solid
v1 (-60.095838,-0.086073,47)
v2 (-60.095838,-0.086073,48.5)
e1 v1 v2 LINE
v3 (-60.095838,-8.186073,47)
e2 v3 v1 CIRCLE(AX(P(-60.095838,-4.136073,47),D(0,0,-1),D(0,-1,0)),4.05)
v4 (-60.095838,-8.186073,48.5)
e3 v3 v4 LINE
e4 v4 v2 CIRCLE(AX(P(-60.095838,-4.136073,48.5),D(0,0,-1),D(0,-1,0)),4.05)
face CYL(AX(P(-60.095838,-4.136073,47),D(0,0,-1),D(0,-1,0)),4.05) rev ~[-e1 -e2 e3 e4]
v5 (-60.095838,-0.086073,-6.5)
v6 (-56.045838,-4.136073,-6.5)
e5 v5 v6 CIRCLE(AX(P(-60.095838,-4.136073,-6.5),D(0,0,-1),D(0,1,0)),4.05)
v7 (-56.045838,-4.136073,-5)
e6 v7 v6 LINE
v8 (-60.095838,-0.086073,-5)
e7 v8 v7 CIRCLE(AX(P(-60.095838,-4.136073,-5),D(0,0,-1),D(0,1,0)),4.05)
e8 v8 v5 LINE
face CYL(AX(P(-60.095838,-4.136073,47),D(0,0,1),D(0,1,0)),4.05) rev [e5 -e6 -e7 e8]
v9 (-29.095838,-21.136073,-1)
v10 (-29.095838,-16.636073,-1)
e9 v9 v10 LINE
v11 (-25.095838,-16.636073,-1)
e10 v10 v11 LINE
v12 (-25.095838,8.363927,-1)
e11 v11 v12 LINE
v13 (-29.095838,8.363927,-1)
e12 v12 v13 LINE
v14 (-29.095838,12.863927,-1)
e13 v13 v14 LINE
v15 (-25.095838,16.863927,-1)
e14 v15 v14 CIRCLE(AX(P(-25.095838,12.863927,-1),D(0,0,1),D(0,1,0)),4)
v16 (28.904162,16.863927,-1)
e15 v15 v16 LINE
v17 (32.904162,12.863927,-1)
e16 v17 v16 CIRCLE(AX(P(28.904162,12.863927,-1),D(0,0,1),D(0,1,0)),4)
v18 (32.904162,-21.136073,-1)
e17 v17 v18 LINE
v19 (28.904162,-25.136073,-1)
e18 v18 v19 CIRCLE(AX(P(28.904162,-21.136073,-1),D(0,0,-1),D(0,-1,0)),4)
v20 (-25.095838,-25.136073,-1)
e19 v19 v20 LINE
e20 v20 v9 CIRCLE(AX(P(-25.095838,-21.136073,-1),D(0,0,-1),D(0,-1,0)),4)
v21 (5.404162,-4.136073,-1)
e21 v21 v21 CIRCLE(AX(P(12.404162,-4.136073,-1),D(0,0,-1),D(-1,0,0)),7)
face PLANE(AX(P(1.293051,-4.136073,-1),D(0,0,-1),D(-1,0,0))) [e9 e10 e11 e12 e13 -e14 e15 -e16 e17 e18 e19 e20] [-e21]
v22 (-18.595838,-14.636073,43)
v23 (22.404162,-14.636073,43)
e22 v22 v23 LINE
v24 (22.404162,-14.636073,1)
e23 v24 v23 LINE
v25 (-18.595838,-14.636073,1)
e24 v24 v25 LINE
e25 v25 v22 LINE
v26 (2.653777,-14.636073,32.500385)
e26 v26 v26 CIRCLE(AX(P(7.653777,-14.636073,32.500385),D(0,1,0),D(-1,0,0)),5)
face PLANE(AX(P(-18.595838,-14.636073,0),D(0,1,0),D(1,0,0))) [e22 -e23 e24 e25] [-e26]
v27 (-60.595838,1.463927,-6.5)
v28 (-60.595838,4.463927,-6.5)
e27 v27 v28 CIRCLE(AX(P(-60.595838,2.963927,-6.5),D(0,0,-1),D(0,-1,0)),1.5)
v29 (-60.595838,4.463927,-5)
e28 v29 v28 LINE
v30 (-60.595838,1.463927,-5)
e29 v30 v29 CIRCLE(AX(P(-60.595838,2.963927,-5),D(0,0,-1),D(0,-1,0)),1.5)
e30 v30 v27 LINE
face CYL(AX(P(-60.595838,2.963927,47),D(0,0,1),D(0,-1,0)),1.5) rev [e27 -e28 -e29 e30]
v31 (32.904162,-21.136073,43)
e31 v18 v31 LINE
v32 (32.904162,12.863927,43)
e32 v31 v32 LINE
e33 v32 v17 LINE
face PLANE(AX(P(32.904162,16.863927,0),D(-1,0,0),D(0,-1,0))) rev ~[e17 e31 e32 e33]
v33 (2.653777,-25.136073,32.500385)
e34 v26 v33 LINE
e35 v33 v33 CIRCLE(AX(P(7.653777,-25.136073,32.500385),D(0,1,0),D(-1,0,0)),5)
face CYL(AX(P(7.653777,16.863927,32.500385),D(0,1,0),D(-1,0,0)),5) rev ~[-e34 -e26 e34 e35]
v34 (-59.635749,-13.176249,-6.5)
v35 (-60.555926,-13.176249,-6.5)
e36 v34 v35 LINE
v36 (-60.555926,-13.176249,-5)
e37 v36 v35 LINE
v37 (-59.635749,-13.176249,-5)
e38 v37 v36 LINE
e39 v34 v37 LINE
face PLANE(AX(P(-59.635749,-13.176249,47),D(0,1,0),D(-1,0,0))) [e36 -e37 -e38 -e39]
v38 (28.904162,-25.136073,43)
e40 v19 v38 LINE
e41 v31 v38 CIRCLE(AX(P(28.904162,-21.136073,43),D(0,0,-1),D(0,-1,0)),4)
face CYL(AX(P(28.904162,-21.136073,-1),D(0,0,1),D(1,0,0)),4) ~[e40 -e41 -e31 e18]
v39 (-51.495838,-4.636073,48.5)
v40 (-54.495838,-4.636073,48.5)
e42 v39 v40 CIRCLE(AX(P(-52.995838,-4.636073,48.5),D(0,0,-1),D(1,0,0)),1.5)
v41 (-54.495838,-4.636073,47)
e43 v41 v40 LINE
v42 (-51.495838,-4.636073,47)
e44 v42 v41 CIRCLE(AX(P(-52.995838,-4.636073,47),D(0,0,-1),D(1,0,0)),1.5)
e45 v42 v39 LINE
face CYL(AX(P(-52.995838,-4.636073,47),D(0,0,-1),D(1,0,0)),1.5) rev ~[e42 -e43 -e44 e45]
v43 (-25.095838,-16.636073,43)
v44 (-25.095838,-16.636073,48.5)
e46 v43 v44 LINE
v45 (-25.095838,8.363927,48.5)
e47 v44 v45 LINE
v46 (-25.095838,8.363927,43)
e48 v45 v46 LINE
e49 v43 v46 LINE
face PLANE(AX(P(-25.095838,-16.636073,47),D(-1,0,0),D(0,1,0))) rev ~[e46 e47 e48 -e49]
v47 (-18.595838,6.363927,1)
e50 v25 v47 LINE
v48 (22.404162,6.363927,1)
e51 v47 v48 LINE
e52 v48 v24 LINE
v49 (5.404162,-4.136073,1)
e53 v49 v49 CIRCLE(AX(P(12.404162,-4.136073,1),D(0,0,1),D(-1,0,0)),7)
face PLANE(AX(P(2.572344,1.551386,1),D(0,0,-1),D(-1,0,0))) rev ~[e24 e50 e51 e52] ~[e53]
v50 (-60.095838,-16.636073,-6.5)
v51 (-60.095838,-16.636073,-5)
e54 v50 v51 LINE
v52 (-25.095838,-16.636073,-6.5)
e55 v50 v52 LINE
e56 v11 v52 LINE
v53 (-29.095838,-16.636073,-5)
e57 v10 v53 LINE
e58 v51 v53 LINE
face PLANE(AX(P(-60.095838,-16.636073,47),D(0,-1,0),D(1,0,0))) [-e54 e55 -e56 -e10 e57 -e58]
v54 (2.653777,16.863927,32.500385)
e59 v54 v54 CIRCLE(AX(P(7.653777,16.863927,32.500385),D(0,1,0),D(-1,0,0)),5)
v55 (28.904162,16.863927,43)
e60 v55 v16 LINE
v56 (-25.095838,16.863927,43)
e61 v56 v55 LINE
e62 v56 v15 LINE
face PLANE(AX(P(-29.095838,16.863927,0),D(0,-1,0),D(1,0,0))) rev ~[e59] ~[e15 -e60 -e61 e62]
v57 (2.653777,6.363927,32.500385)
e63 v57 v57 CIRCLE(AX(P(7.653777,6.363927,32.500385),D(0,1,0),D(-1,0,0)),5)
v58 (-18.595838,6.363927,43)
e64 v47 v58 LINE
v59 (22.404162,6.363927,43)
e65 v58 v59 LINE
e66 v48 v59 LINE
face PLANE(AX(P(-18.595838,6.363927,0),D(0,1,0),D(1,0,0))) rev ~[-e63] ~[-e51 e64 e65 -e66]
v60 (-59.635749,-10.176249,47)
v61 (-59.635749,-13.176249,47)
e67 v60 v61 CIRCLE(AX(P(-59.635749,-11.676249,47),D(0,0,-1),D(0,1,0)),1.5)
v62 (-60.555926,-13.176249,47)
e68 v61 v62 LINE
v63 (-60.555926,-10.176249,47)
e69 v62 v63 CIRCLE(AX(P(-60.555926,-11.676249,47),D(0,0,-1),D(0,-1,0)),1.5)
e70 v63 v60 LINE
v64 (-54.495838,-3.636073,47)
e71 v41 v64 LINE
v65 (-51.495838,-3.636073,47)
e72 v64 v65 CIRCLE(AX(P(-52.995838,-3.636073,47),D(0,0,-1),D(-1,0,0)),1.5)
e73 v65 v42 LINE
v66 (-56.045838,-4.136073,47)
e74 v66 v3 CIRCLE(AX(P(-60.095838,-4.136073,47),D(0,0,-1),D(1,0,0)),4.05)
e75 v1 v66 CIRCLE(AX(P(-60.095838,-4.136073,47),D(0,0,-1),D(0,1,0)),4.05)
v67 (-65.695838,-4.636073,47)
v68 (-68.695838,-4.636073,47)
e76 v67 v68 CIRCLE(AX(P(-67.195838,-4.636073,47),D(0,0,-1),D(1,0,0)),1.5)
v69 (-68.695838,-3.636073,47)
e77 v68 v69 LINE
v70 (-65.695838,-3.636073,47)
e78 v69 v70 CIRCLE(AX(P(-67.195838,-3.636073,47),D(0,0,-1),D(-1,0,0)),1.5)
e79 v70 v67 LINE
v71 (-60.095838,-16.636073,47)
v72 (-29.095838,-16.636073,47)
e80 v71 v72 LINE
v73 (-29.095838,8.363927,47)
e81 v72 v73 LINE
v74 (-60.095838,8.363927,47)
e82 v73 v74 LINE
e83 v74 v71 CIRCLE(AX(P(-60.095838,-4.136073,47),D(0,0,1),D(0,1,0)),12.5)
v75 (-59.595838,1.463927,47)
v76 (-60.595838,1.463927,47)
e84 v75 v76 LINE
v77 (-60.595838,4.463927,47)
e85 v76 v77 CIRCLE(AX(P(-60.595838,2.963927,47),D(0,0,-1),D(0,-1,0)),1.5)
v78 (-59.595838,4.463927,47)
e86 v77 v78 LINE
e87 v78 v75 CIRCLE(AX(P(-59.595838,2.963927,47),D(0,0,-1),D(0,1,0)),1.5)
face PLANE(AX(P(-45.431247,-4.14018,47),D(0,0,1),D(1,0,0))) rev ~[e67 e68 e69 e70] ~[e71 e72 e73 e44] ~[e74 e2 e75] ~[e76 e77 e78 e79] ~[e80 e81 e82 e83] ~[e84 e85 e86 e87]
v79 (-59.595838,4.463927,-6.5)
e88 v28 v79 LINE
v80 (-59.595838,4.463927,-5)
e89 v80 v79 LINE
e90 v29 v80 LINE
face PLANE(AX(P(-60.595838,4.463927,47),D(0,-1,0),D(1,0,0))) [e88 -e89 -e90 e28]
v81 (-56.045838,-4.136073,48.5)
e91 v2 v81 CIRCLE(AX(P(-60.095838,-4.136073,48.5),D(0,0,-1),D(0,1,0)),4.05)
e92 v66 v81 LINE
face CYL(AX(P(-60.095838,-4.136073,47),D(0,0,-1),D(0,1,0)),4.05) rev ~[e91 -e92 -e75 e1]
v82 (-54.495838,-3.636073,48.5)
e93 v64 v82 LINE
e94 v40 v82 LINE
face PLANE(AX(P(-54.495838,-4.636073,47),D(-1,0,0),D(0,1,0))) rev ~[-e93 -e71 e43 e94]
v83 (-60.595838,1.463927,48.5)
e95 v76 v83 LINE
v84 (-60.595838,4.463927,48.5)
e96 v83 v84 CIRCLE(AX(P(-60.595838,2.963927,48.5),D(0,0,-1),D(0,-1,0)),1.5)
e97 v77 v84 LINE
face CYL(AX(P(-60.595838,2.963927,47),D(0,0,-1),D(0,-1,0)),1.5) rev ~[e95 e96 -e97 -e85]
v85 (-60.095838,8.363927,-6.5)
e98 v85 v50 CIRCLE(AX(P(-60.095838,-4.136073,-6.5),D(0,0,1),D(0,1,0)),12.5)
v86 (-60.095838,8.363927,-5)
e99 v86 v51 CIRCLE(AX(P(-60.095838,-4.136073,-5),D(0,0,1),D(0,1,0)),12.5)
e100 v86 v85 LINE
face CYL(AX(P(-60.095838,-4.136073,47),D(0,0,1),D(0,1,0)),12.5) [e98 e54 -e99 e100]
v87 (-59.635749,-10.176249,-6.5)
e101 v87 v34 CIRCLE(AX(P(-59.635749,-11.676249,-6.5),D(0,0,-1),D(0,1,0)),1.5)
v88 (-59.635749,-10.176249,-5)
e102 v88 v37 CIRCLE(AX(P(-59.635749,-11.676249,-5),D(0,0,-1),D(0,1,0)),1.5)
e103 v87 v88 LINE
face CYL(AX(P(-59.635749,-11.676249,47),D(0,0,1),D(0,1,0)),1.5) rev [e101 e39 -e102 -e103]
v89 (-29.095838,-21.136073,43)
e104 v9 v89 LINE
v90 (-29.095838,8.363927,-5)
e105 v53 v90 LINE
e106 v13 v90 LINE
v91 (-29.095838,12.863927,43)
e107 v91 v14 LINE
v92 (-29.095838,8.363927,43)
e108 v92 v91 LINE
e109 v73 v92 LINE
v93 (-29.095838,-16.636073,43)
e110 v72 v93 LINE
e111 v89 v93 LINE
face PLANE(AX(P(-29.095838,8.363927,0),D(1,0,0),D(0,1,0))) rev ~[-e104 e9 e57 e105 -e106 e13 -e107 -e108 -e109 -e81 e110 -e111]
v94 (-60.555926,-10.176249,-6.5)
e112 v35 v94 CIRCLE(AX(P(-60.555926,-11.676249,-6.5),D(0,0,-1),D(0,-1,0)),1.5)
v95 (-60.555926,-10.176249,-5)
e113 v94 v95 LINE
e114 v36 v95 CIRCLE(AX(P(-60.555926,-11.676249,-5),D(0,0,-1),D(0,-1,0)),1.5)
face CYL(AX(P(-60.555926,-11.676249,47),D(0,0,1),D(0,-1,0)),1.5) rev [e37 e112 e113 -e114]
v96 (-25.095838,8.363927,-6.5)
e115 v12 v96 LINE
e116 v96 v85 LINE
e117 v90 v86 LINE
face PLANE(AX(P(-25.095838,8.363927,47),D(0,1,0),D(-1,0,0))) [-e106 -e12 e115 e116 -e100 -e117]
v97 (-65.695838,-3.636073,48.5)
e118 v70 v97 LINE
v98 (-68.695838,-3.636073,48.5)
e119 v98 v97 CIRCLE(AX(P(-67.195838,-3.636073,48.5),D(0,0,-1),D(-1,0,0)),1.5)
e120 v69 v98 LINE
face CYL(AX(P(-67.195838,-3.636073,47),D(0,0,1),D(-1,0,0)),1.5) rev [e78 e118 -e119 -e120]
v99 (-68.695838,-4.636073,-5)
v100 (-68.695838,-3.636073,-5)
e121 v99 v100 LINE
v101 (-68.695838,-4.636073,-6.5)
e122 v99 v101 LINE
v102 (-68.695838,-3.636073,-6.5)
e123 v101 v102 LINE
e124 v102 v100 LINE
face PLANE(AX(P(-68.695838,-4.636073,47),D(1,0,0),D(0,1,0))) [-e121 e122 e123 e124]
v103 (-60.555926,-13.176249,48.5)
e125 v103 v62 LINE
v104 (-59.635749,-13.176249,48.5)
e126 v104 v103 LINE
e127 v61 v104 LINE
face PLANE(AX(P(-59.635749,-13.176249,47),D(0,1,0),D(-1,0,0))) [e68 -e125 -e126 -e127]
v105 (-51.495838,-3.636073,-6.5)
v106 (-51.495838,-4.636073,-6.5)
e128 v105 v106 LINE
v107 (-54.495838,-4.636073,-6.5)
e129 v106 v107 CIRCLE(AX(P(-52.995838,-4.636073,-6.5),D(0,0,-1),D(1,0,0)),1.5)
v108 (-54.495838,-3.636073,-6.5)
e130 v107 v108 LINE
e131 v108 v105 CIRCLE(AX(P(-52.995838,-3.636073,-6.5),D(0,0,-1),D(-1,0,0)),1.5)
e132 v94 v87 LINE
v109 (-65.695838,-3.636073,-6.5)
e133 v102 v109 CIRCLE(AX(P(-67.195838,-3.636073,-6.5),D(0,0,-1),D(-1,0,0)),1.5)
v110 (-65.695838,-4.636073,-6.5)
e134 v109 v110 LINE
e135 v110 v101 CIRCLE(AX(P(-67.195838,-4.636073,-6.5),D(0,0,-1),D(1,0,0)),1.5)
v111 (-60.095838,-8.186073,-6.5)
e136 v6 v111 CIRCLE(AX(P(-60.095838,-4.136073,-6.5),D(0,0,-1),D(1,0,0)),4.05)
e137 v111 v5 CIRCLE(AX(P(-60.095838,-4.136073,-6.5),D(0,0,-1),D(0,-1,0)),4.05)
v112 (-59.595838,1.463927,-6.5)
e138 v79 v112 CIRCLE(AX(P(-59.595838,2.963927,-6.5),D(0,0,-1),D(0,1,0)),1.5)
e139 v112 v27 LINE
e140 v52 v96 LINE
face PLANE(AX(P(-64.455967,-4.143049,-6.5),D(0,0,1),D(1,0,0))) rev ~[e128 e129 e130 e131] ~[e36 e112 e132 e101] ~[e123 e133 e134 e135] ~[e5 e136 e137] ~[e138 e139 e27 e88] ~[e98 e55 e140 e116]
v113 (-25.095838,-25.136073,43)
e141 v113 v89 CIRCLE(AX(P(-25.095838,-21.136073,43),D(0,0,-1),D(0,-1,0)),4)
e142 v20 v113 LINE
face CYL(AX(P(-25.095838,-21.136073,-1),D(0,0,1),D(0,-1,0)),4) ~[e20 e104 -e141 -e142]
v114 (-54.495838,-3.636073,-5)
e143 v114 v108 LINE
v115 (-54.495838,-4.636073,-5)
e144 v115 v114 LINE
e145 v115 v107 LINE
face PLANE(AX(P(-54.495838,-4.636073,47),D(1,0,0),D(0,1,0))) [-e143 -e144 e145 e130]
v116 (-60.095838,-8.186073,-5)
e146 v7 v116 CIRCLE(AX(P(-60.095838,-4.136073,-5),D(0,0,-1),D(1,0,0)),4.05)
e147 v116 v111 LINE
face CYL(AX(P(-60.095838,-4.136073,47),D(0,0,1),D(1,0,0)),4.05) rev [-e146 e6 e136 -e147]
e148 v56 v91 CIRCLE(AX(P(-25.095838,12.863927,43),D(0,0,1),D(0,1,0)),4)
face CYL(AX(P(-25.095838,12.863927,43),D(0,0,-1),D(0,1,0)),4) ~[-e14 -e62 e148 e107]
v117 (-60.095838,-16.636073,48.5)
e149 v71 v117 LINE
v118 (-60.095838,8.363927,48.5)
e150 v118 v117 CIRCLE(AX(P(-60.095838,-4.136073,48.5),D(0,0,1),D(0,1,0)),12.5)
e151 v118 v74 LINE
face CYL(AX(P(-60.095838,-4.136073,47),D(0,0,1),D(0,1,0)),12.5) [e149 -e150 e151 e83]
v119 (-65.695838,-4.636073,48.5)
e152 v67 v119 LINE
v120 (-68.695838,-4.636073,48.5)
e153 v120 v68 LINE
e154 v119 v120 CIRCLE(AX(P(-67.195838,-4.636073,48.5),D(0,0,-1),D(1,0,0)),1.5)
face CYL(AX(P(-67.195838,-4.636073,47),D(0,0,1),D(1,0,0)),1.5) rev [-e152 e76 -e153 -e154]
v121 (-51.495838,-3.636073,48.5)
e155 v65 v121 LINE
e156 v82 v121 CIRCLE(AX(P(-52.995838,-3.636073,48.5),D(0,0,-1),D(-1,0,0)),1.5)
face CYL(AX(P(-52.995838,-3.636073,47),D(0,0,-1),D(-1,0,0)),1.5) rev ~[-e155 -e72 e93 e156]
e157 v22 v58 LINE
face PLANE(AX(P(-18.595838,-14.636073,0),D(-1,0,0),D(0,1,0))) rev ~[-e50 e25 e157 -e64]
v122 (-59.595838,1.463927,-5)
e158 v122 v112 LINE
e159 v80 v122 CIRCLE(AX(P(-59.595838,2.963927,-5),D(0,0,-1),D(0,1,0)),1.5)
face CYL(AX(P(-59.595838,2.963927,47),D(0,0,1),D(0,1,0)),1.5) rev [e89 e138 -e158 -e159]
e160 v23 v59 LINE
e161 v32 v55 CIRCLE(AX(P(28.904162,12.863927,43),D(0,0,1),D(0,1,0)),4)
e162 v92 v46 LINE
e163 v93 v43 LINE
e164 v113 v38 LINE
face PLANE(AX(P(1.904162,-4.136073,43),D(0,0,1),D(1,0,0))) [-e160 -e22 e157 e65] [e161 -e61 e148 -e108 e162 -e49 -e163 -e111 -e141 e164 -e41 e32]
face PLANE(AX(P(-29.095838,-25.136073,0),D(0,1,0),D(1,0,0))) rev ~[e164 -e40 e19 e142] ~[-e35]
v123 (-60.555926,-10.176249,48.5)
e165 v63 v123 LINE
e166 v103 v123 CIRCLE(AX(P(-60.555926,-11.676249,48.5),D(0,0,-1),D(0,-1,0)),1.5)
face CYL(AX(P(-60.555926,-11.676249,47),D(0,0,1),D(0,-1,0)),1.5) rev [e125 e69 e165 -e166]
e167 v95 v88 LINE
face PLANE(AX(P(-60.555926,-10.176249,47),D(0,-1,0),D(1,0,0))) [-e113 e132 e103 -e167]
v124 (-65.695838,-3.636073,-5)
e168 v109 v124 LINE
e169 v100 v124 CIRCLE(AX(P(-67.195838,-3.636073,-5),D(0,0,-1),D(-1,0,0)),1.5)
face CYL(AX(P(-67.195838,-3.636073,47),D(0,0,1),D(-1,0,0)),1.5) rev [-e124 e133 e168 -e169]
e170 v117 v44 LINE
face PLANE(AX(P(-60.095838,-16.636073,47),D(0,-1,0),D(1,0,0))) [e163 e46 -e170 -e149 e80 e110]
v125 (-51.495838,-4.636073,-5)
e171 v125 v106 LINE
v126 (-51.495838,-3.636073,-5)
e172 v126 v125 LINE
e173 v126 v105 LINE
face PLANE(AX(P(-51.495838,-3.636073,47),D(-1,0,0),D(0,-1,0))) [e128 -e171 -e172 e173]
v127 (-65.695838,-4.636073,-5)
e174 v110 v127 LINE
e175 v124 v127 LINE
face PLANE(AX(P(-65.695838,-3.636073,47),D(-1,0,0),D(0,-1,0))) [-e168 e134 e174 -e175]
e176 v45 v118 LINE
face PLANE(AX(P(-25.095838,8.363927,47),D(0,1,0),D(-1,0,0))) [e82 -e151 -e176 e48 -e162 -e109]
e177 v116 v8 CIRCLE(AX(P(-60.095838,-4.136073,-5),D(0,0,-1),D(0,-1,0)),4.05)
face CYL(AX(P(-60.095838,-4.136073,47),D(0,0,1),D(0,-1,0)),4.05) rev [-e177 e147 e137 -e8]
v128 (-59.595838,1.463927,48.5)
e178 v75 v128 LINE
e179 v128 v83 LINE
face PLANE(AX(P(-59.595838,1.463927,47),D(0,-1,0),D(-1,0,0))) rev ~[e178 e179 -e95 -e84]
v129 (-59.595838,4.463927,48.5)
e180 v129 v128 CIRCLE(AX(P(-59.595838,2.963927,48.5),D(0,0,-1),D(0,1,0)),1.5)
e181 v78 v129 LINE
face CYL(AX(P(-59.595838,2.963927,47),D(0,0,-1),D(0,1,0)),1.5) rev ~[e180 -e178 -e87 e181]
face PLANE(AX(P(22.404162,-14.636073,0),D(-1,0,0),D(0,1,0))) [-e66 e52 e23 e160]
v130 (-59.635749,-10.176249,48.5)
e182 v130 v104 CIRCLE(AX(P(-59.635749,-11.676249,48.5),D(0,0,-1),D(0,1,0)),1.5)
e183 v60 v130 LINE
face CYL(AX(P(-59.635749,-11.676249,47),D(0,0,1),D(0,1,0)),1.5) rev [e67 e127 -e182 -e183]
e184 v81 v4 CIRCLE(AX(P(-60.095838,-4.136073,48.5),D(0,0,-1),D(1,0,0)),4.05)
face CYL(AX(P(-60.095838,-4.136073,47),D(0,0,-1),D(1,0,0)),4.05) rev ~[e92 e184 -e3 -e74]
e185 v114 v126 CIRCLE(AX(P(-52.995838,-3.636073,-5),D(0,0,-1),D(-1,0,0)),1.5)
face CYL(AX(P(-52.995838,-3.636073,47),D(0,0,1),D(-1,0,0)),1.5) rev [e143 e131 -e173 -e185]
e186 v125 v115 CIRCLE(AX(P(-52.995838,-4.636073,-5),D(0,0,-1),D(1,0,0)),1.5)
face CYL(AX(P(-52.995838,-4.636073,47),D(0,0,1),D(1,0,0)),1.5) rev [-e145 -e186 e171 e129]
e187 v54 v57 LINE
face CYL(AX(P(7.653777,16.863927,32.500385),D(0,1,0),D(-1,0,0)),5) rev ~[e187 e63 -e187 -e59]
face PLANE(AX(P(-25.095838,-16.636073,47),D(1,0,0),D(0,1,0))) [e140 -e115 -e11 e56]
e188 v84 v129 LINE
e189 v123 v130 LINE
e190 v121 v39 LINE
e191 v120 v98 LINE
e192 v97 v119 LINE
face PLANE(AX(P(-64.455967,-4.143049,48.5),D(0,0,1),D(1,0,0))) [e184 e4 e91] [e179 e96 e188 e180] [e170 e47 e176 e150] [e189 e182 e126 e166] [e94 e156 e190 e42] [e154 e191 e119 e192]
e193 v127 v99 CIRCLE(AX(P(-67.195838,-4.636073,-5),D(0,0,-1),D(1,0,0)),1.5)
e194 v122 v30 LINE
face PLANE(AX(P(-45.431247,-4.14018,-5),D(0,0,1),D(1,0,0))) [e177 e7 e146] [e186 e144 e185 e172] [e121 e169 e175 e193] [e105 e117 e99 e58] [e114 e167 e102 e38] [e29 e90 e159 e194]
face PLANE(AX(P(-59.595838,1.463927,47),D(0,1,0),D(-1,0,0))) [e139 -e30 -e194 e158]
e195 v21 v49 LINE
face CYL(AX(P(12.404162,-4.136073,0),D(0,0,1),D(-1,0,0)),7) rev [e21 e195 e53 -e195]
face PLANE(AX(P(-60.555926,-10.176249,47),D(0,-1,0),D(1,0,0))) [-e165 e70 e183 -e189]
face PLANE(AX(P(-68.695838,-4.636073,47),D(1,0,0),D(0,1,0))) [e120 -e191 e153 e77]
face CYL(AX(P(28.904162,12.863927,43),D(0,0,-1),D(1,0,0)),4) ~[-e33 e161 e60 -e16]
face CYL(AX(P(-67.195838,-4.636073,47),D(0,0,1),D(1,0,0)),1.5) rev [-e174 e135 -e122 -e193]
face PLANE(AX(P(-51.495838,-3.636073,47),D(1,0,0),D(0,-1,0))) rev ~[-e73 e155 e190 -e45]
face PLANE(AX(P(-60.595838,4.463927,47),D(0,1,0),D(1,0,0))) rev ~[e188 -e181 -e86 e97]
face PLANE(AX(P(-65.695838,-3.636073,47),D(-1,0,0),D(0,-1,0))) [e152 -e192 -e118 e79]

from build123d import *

# Parameters (mm, degrees)
SKETCH1_W           = 62
SKETCH1_H           = 42
SKETCH1_W_2         = 41
SKETCH1_H_2         = 21
BOSS_EXTRUDE1_DEPTH = 43
SKETCH2_W           = 4
SKETCH2_H           = 25
BOSS_EXTRUDE2_DEPTH = 4
SKETCH3_W           = 4
SKETCH3_H           = 25
BOSS_EXTRUDE6_DEPTH = 1.5
SKETCH3_8_W         = 4
SKETCH3_8_H         = 25
BOSS_EXTRUDE7_DEPTH = 53.5
CUT_EXTRUDE1_DEPTH  = 52
SKETCH_1_R          = 5
CUT_EXTRUDE_1_DEPTH = 42
EXTRUDE_1_DEPTH     = 1
SKETCH_2_3_R        = 7
EXTRUDE_2_DEPTH     = 1
FILLET_1_R          = 4
FILLET_2_R          = 4
FILLET_3_R          = 4
FILLET_4_R          = 4


with BuildPart() as part:
    # Sketch1 → Boss-Extrude1 (new body)
    with BuildSketch(Plane.XY):
        with Locations((1.904162196, -4.136072895)):
            Rectangle(SKETCH1_W, SKETCH1_H)
        with Locations((1.904162196, -4.136072895)):
            Rectangle(SKETCH1_W_2, SKETCH1_H_2, mode=Mode.SUBTRACT)
    extrude(amount=BOSS_EXTRUDE1_DEPTH)

    # Sketch2 → Boss-Extrude2 (add)
    with BuildSketch(Plane.XY.offset(43)):
        with Locations((-27.095837804, -4.136072895)):
            Rectangle(SKETCH2_W, SKETCH2_H)
    extrude(amount=BOSS_EXTRUDE2_DEPTH)

    # Sketch3 → Boss-Extrude6 (add)
    with BuildSketch(Plane.XY.offset(47)):
        with BuildLine():
            Line((-60.095837804, 4.463927105), (-60.095837804, 8.363927105))
            ThreePointArc((-60.095837804, 8.363927105), (-72.595837804, -4.136072895), (-60.095837804, -16.636072895))
            Line((-60.095837804, -16.636072895), (-60.095837804, -13.176248856))
            Line((-60.095837804, -13.176248856), (-60.555926168, -13.176248856))
            ThreePointArc((-60.555926168, -13.176248856), (-62.055926168, -11.676248856), (-60.555926168, -10.176248856))
            Line((-60.555926168, -10.176248856), (-60.095837804, -10.176248856))
            Line((-60.095837804, -10.176248856), (-60.095837804, -8.186072895))
            ThreePointArc((-60.095837804, -8.186072895), (-64.145837804, -4.136072895), (-60.095837804, -0.086072895))
            Line((-60.095837804, -0.086072895), (-60.095837804, 1.463927105))
            Line((-60.095837804, 1.463927105), (-60.595837804, 1.463927105))
            ThreePointArc((-60.595837804, 1.463927105), (-62.095837804, 2.963927105), (-60.595837804, 4.463927105))
            Line((-60.595837804, 4.463927105), (-60.095837804, 4.463927105))
        make_face()
        with BuildLine():
            ThreePointArc((-68.695837804, -3.636072895), (-67.195837804, -2.136072895), (-65.695837804, -3.636072895))
            Line((-65.695837804, -3.636072895), (-65.695837804, -4.636072895))
            ThreePointArc((-65.695837804, -4.636072895), (-67.195837804, -6.136072895), (-68.695837804, -4.636072895))
            Line((-68.695837804, -4.636072895), (-68.695837804, -3.636072895))
        make_face(mode=Mode.SUBTRACT)
        with BuildLine():
            Line((-29.095837804, -16.636072895), (-29.095837804, 8.363927105))
            Line((-29.095837804, 8.363927105), (-60.095837804, 8.363927105))
            Line((-60.095837804, 8.363927105), (-60.095837804, 4.463927105))
            Line((-60.095837804, 4.463927105), (-59.595837804, 4.463927105))
            ThreePointArc((-59.595837804, 4.463927105), (-58.095837804, 2.963927105), (-59.595837804, 1.463927105))
            Line((-59.595837804, 1.463927105), (-60.095837804, 1.463927105))
            Line((-60.095837804, 1.463927105), (-60.095837804, -0.086072895))
            ThreePointArc((-60.095837804, -0.086072895), (-57.23205534, -1.272290432), (-56.045837804, -4.136072895))
            ThreePointArc((-56.045837804, -4.136072895), (-57.23205534, -6.999855359), (-60.095837804, -8.186072895))
            Line((-60.095837804, -8.186072895), (-60.095837804, -10.176248856))
            Line((-60.095837804, -10.176248856), (-59.635749439, -10.176248856))
            ThreePointArc((-59.635749439, -10.176248856), (-58.135749439, -11.676248856), (-59.635749439, -13.176248856))
            Line((-59.635749439, -13.176248856), (-60.095837804, -13.176248856))
            Line((-60.095837804, -13.176248856), (-60.095837804, -16.636072895))
            Line((-60.095837804, -16.636072895), (-29.095837804, -16.636072895))
        make_face()
        with BuildLine():
            ThreePointArc((-54.495837804, -3.636072895), (-52.995837804, -2.136072895), (-51.495837804, -3.636072895))
            Line((-51.495837804, -3.636072895), (-51.495837804, -4.636072895))
            ThreePointArc((-51.495837804, -4.636072895), (-52.995837804, -6.136072895), (-54.495837804, -4.636072895))
            Line((-54.495837804, -4.636072895), (-54.495837804, -3.636072895))
        make_face(mode=Mode.SUBTRACT)
        with Locations((-27.095837804, -4.136072895)):
            Rectangle(SKETCH3_W, SKETCH3_H)
    extrude(amount=BOSS_EXTRUDE6_DEPTH)

    # Sketch3<8> → Boss-Extrude7 (add)
    with BuildSketch(Plane.XY.offset(47)):
        with BuildLine():
            Line((-60.095837804, 4.463927105), (-60.095837804, 8.363927105))
            ThreePointArc((-60.095837804, 8.363927105), (-72.595837804, -4.136072895), (-60.095837804, -16.636072895))
            Line((-60.095837804, -16.636072895), (-60.095837804, -13.176248856))
            Line((-60.095837804, -13.176248856), (-60.555926168, -13.176248856))
            ThreePointArc((-60.555926168, -13.176248856), (-62.055926168, -11.676248856), (-60.555926168, -10.176248856))
            Line((-60.555926168, -10.176248856), (-60.095837804, -10.176248856))
            Line((-60.095837804, -10.176248856), (-60.095837804, -8.186072895))
            ThreePointArc((-60.095837804, -8.186072895), (-64.145837804, -4.136072895), (-60.095837804, -0.086072895))
            Line((-60.095837804, -0.086072895), (-60.095837804, 1.463927105))
            Line((-60.095837804, 1.463927105), (-60.595837804, 1.463927105))
            ThreePointArc((-60.595837804, 1.463927105), (-62.095837804, 2.963927105), (-60.595837804, 4.463927105))
            Line((-60.595837804, 4.463927105), (-60.095837804, 4.463927105))
        make_face()
        with BuildLine():
            ThreePointArc((-68.695837804, -3.636072895), (-67.195837804, -2.136072895), (-65.695837804, -3.636072895))
            Line((-65.695837804, -3.636072895), (-65.695837804, -4.636072895))
            ThreePointArc((-65.695837804, -4.636072895), (-67.195837804, -6.136072895), (-68.695837804, -4.636072895))
            Line((-68.695837804, -4.636072895), (-68.695837804, -3.636072895))
        make_face(mode=Mode.SUBTRACT)
        with BuildLine():
            Line((-29.095837804, -16.636072895), (-29.095837804, 8.363927105))
            Line((-29.095837804, 8.363927105), (-60.095837804, 8.363927105))
            Line((-60.095837804, 8.363927105), (-60.095837804, 4.463927105))
            Line((-60.095837804, 4.463927105), (-59.595837804, 4.463927105))
            ThreePointArc((-59.595837804, 4.463927105), (-58.095837804, 2.963927105), (-59.595837804, 1.463927105))
            Line((-59.595837804, 1.463927105), (-60.095837804, 1.463927105))
            Line((-60.095837804, 1.463927105), (-60.095837804, -0.086072895))
            ThreePointArc((-60.095837804, -0.086072895), (-57.23205534, -1.272290432), (-56.045837804, -4.136072895))
            ThreePointArc((-56.045837804, -4.136072895), (-57.23205534, -6.999855359), (-60.095837804, -8.186072895))
            Line((-60.095837804, -8.186072895), (-60.095837804, -10.176248856))
            Line((-60.095837804, -10.176248856), (-59.635749439, -10.176248856))
            ThreePointArc((-59.635749439, -10.176248856), (-58.135749439, -11.676248856), (-59.635749439, -13.176248856))
            Line((-59.635749439, -13.176248856), (-60.095837804, -13.176248856))
            Line((-60.095837804, -13.176248856), (-60.095837804, -16.636072895))
            Line((-60.095837804, -16.636072895), (-29.095837804, -16.636072895))
        make_face()
        with BuildLine():
            ThreePointArc((-54.495837804, -3.636072895), (-52.995837804, -2.136072895), (-51.495837804, -3.636072895))
            Line((-51.495837804, -3.636072895), (-51.495837804, -4.636072895))
            ThreePointArc((-51.495837804, -4.636072895), (-52.995837804, -6.136072895), (-54.495837804, -4.636072895))
            Line((-54.495837804, -4.636072895), (-54.495837804, -3.636072895))
        make_face(mode=Mode.SUBTRACT)
        with Locations((-27.095837804, -4.136072895)):
            Rectangle(SKETCH3_8_W, SKETCH3_8_H)
    extrude(amount=-BOSS_EXTRUDE7_DEPTH)

    # Sketch3<11> → Cut-Extrude1 (cut)
    with BuildSketch(Plane.XY.offset(47)):
        with BuildLine():
            Line((-29.095837804, -16.636072895), (-29.095837804, 8.363927105))
            Line((-29.095837804, 8.363927105), (-60.095837804, 8.363927105))
            Line((-60.095837804, 8.363927105), (-60.095837804, 4.463927105))
            Line((-60.095837804, 4.463927105), (-59.595837804, 4.463927105))
            ThreePointArc((-59.595837804, 4.463927105), (-58.095837804, 2.963927105), (-59.595837804, 1.463927105))
            Line((-59.595837804, 1.463927105), (-60.095837804, 1.463927105))
            Line((-60.095837804, 1.463927105), (-60.095837804, -0.086072895))
            ThreePointArc((-60.095837804, -0.086072895), (-57.23205534, -1.272290432), (-56.045837804, -4.136072895))
            ThreePointArc((-56.045837804, -4.136072895), (-57.23205534, -6.999855359), (-60.095837804, -8.186072895))
            Line((-60.095837804, -8.186072895), (-60.095837804, -10.176248856))
            Line((-60.095837804, -10.176248856), (-59.635749439, -10.176248856))
            ThreePointArc((-59.635749439, -10.176248856), (-58.135749439, -11.676248856), (-59.635749439, -13.176248856))
            Line((-59.635749439, -13.176248856), (-60.095837804, -13.176248856))
            Line((-60.095837804, -13.176248856), (-60.095837804, -16.636072895))
            Line((-60.095837804, -16.636072895), (-29.095837804, -16.636072895))
        make_face()
        with BuildLine():
            ThreePointArc((-54.495837804, -3.636072895), (-52.995837804, -2.136072895), (-51.495837804, -3.636072895))
            Line((-51.495837804, -3.636072895), (-51.495837804, -4.636072895))
            ThreePointArc((-51.495837804, -4.636072895), (-52.995837804, -6.136072895), (-54.495837804, -4.636072895))
            Line((-54.495837804, -4.636072895), (-54.495837804, -3.636072895))
        make_face(mode=Mode.SUBTRACT)
        with BuildLine():
            Line((-60.095837804, 4.463927105), (-60.095837804, 8.363927105))
            ThreePointArc((-60.095837804, 8.363927105), (-72.595837804, -4.136072895), (-60.095837804, -16.636072895))
            Line((-60.095837804, -16.636072895), (-60.095837804, -13.176248856))
            Line((-60.095837804, -13.176248856), (-60.555926168, -13.176248856))
            ThreePointArc((-60.555926168, -13.176248856), (-62.055926168, -11.676248856), (-60.555926168, -10.176248856))
            Line((-60.555926168, -10.176248856), (-60.095837804, -10.176248856))
            Line((-60.095837804, -10.176248856), (-60.095837804, -8.186072895))
            ThreePointArc((-60.095837804, -8.186072895), (-64.145837804, -4.136072895), (-60.095837804, -0.086072895))
            Line((-60.095837804, -0.086072895), (-60.095837804, 1.463927105))
            Line((-60.095837804, 1.463927105), (-60.595837804, 1.463927105))
            ThreePointArc((-60.595837804, 1.463927105), (-62.095837804, 2.963927105), (-60.595837804, 4.463927105))
            Line((-60.595837804, 4.463927105), (-60.095837804, 4.463927105))
        make_face()
        with BuildLine():
            ThreePointArc((-68.695837804, -3.636072895), (-67.195837804, -2.136072895), (-65.695837804, -3.636072895))
            Line((-65.695837804, -3.636072895), (-65.695837804, -4.636072895))
            ThreePointArc((-65.695837804, -4.636072895), (-67.195837804, -6.136072895), (-68.695837804, -4.636072895))
            Line((-68.695837804, -4.636072895), (-68.695837804, -3.636072895))
        make_face(mode=Mode.SUBTRACT)
    extrude(amount=-CUT_EXTRUDE1_DEPTH, mode=Mode.SUBTRACT)

    # 草圖1 → 除料-伸長1 (cut)
    with BuildSketch(Plane(origin=(0, 16.863927105, 0), x_dir=(1, 0, 0), z_dir=(0, 1, 0))):
        with Locations(Location((7.653776732, -32.500385465, 0), (0, 0, 180))):
            Circle(SKETCH_1_R)
    extrude(amount=-CUT_EXTRUDE_1_DEPTH, mode=Mode.SUBTRACT)

    # 草圖2 → 填料-伸長1 (add)
    with BuildSketch(Plane(origin=(0, 0, 0), x_dir=(-1, 0, 0), z_dir=(0, 0, -1))):
        with BuildLine():
            Line((-22.404162196, 6.363927105), (-22.404162196, -4.136072895))
            Line((-22.404162196, -4.136072895), (-19.404162196, -4.136072895))
            ThreePointArc((-19.404162196, -4.136072895), (-12.404162196, 2.863927105), (-5.404162196, -4.136072895))
            Line((-5.404162196, -4.136072895), (18.595837804, -4.136072895))
            Line((18.595837804, -4.136072895), (18.595837804, 6.363927105))
            Line((18.595837804, 6.363927105), (-22.404162196, 6.363927105))
        make_face()
        with BuildLine():
            Line((-22.404162196, -4.136072895), (-22.404162196, -14.636072895))
            Line((-22.404162196, -14.636072895), (18.595837804, -14.636072895))
            Line((18.595837804, -14.636072895), (18.595837804, -4.136072895))
            Line((18.595837804, -4.136072895), (-5.404162196, -4.136072895))
            ThreePointArc((-5.404162196, -4.136072895), (-12.404162196, -11.136072895), (-19.404162196, -4.136072895))
            Line((-19.404162196, -4.136072895), (-22.404162196, -4.136072895))
        make_face()
    extrude(amount=-EXTRUDE_1_DEPTH)

    # 草圖2<3> → 填料-伸長2 (add)
    with BuildSketch(Plane(origin=(0, 0, 0), x_dir=(-1, 0, 0), z_dir=(0, 0, -1))):
        Polygon((29.095837804, 8.363927105), (29.095837804, 16.863927105), (-32.904162196, 16.863927105), (-32.904162196, -25.136072895), (29.095837804, -25.136072895), (29.095837804, -16.636072895), (25.095837804, -16.636072895), (25.095837804, 8.363927105), align=None)
        with Locations((-12.404162196, -4.136072895)):
            Circle(SKETCH_2_3_R, mode=Mode.SUBTRACT)
    extrude(amount=EXTRUDE_2_DEPTH)

    # 圓角1
    fillet_1_edges = [part.edges().sort_by_distance(p)[0] for p in [
        (32.904162196, -25.136072895, 21),
    ]]
    fillet(fillet_1_edges, radius=FILLET_1_R)

    # 圓角2
    fillet_2_edges = [part.edges().sort_by_distance(p)[0] for p in [
        (-29.095837804, -25.136072895, 21),
    ]]
    fillet(fillet_2_edges, radius=FILLET_2_R)

    # 圓角3
    fillet_3_edges = [part.edges().sort_by_distance(p)[0] for p in [
        (32.904162196, 16.863927105, 21),
    ]]
    fillet(fillet_3_edges, radius=FILLET_3_R)

    # 圓角4
    fillet_4_edges = [part.edges().sort_by_distance(p)[0] for p in [
        (-29.095837804, 16.863927105, 21),
    ]]
    fillet(fillet_4_edges, radius=FILLET_4_R)


solid = part.part
